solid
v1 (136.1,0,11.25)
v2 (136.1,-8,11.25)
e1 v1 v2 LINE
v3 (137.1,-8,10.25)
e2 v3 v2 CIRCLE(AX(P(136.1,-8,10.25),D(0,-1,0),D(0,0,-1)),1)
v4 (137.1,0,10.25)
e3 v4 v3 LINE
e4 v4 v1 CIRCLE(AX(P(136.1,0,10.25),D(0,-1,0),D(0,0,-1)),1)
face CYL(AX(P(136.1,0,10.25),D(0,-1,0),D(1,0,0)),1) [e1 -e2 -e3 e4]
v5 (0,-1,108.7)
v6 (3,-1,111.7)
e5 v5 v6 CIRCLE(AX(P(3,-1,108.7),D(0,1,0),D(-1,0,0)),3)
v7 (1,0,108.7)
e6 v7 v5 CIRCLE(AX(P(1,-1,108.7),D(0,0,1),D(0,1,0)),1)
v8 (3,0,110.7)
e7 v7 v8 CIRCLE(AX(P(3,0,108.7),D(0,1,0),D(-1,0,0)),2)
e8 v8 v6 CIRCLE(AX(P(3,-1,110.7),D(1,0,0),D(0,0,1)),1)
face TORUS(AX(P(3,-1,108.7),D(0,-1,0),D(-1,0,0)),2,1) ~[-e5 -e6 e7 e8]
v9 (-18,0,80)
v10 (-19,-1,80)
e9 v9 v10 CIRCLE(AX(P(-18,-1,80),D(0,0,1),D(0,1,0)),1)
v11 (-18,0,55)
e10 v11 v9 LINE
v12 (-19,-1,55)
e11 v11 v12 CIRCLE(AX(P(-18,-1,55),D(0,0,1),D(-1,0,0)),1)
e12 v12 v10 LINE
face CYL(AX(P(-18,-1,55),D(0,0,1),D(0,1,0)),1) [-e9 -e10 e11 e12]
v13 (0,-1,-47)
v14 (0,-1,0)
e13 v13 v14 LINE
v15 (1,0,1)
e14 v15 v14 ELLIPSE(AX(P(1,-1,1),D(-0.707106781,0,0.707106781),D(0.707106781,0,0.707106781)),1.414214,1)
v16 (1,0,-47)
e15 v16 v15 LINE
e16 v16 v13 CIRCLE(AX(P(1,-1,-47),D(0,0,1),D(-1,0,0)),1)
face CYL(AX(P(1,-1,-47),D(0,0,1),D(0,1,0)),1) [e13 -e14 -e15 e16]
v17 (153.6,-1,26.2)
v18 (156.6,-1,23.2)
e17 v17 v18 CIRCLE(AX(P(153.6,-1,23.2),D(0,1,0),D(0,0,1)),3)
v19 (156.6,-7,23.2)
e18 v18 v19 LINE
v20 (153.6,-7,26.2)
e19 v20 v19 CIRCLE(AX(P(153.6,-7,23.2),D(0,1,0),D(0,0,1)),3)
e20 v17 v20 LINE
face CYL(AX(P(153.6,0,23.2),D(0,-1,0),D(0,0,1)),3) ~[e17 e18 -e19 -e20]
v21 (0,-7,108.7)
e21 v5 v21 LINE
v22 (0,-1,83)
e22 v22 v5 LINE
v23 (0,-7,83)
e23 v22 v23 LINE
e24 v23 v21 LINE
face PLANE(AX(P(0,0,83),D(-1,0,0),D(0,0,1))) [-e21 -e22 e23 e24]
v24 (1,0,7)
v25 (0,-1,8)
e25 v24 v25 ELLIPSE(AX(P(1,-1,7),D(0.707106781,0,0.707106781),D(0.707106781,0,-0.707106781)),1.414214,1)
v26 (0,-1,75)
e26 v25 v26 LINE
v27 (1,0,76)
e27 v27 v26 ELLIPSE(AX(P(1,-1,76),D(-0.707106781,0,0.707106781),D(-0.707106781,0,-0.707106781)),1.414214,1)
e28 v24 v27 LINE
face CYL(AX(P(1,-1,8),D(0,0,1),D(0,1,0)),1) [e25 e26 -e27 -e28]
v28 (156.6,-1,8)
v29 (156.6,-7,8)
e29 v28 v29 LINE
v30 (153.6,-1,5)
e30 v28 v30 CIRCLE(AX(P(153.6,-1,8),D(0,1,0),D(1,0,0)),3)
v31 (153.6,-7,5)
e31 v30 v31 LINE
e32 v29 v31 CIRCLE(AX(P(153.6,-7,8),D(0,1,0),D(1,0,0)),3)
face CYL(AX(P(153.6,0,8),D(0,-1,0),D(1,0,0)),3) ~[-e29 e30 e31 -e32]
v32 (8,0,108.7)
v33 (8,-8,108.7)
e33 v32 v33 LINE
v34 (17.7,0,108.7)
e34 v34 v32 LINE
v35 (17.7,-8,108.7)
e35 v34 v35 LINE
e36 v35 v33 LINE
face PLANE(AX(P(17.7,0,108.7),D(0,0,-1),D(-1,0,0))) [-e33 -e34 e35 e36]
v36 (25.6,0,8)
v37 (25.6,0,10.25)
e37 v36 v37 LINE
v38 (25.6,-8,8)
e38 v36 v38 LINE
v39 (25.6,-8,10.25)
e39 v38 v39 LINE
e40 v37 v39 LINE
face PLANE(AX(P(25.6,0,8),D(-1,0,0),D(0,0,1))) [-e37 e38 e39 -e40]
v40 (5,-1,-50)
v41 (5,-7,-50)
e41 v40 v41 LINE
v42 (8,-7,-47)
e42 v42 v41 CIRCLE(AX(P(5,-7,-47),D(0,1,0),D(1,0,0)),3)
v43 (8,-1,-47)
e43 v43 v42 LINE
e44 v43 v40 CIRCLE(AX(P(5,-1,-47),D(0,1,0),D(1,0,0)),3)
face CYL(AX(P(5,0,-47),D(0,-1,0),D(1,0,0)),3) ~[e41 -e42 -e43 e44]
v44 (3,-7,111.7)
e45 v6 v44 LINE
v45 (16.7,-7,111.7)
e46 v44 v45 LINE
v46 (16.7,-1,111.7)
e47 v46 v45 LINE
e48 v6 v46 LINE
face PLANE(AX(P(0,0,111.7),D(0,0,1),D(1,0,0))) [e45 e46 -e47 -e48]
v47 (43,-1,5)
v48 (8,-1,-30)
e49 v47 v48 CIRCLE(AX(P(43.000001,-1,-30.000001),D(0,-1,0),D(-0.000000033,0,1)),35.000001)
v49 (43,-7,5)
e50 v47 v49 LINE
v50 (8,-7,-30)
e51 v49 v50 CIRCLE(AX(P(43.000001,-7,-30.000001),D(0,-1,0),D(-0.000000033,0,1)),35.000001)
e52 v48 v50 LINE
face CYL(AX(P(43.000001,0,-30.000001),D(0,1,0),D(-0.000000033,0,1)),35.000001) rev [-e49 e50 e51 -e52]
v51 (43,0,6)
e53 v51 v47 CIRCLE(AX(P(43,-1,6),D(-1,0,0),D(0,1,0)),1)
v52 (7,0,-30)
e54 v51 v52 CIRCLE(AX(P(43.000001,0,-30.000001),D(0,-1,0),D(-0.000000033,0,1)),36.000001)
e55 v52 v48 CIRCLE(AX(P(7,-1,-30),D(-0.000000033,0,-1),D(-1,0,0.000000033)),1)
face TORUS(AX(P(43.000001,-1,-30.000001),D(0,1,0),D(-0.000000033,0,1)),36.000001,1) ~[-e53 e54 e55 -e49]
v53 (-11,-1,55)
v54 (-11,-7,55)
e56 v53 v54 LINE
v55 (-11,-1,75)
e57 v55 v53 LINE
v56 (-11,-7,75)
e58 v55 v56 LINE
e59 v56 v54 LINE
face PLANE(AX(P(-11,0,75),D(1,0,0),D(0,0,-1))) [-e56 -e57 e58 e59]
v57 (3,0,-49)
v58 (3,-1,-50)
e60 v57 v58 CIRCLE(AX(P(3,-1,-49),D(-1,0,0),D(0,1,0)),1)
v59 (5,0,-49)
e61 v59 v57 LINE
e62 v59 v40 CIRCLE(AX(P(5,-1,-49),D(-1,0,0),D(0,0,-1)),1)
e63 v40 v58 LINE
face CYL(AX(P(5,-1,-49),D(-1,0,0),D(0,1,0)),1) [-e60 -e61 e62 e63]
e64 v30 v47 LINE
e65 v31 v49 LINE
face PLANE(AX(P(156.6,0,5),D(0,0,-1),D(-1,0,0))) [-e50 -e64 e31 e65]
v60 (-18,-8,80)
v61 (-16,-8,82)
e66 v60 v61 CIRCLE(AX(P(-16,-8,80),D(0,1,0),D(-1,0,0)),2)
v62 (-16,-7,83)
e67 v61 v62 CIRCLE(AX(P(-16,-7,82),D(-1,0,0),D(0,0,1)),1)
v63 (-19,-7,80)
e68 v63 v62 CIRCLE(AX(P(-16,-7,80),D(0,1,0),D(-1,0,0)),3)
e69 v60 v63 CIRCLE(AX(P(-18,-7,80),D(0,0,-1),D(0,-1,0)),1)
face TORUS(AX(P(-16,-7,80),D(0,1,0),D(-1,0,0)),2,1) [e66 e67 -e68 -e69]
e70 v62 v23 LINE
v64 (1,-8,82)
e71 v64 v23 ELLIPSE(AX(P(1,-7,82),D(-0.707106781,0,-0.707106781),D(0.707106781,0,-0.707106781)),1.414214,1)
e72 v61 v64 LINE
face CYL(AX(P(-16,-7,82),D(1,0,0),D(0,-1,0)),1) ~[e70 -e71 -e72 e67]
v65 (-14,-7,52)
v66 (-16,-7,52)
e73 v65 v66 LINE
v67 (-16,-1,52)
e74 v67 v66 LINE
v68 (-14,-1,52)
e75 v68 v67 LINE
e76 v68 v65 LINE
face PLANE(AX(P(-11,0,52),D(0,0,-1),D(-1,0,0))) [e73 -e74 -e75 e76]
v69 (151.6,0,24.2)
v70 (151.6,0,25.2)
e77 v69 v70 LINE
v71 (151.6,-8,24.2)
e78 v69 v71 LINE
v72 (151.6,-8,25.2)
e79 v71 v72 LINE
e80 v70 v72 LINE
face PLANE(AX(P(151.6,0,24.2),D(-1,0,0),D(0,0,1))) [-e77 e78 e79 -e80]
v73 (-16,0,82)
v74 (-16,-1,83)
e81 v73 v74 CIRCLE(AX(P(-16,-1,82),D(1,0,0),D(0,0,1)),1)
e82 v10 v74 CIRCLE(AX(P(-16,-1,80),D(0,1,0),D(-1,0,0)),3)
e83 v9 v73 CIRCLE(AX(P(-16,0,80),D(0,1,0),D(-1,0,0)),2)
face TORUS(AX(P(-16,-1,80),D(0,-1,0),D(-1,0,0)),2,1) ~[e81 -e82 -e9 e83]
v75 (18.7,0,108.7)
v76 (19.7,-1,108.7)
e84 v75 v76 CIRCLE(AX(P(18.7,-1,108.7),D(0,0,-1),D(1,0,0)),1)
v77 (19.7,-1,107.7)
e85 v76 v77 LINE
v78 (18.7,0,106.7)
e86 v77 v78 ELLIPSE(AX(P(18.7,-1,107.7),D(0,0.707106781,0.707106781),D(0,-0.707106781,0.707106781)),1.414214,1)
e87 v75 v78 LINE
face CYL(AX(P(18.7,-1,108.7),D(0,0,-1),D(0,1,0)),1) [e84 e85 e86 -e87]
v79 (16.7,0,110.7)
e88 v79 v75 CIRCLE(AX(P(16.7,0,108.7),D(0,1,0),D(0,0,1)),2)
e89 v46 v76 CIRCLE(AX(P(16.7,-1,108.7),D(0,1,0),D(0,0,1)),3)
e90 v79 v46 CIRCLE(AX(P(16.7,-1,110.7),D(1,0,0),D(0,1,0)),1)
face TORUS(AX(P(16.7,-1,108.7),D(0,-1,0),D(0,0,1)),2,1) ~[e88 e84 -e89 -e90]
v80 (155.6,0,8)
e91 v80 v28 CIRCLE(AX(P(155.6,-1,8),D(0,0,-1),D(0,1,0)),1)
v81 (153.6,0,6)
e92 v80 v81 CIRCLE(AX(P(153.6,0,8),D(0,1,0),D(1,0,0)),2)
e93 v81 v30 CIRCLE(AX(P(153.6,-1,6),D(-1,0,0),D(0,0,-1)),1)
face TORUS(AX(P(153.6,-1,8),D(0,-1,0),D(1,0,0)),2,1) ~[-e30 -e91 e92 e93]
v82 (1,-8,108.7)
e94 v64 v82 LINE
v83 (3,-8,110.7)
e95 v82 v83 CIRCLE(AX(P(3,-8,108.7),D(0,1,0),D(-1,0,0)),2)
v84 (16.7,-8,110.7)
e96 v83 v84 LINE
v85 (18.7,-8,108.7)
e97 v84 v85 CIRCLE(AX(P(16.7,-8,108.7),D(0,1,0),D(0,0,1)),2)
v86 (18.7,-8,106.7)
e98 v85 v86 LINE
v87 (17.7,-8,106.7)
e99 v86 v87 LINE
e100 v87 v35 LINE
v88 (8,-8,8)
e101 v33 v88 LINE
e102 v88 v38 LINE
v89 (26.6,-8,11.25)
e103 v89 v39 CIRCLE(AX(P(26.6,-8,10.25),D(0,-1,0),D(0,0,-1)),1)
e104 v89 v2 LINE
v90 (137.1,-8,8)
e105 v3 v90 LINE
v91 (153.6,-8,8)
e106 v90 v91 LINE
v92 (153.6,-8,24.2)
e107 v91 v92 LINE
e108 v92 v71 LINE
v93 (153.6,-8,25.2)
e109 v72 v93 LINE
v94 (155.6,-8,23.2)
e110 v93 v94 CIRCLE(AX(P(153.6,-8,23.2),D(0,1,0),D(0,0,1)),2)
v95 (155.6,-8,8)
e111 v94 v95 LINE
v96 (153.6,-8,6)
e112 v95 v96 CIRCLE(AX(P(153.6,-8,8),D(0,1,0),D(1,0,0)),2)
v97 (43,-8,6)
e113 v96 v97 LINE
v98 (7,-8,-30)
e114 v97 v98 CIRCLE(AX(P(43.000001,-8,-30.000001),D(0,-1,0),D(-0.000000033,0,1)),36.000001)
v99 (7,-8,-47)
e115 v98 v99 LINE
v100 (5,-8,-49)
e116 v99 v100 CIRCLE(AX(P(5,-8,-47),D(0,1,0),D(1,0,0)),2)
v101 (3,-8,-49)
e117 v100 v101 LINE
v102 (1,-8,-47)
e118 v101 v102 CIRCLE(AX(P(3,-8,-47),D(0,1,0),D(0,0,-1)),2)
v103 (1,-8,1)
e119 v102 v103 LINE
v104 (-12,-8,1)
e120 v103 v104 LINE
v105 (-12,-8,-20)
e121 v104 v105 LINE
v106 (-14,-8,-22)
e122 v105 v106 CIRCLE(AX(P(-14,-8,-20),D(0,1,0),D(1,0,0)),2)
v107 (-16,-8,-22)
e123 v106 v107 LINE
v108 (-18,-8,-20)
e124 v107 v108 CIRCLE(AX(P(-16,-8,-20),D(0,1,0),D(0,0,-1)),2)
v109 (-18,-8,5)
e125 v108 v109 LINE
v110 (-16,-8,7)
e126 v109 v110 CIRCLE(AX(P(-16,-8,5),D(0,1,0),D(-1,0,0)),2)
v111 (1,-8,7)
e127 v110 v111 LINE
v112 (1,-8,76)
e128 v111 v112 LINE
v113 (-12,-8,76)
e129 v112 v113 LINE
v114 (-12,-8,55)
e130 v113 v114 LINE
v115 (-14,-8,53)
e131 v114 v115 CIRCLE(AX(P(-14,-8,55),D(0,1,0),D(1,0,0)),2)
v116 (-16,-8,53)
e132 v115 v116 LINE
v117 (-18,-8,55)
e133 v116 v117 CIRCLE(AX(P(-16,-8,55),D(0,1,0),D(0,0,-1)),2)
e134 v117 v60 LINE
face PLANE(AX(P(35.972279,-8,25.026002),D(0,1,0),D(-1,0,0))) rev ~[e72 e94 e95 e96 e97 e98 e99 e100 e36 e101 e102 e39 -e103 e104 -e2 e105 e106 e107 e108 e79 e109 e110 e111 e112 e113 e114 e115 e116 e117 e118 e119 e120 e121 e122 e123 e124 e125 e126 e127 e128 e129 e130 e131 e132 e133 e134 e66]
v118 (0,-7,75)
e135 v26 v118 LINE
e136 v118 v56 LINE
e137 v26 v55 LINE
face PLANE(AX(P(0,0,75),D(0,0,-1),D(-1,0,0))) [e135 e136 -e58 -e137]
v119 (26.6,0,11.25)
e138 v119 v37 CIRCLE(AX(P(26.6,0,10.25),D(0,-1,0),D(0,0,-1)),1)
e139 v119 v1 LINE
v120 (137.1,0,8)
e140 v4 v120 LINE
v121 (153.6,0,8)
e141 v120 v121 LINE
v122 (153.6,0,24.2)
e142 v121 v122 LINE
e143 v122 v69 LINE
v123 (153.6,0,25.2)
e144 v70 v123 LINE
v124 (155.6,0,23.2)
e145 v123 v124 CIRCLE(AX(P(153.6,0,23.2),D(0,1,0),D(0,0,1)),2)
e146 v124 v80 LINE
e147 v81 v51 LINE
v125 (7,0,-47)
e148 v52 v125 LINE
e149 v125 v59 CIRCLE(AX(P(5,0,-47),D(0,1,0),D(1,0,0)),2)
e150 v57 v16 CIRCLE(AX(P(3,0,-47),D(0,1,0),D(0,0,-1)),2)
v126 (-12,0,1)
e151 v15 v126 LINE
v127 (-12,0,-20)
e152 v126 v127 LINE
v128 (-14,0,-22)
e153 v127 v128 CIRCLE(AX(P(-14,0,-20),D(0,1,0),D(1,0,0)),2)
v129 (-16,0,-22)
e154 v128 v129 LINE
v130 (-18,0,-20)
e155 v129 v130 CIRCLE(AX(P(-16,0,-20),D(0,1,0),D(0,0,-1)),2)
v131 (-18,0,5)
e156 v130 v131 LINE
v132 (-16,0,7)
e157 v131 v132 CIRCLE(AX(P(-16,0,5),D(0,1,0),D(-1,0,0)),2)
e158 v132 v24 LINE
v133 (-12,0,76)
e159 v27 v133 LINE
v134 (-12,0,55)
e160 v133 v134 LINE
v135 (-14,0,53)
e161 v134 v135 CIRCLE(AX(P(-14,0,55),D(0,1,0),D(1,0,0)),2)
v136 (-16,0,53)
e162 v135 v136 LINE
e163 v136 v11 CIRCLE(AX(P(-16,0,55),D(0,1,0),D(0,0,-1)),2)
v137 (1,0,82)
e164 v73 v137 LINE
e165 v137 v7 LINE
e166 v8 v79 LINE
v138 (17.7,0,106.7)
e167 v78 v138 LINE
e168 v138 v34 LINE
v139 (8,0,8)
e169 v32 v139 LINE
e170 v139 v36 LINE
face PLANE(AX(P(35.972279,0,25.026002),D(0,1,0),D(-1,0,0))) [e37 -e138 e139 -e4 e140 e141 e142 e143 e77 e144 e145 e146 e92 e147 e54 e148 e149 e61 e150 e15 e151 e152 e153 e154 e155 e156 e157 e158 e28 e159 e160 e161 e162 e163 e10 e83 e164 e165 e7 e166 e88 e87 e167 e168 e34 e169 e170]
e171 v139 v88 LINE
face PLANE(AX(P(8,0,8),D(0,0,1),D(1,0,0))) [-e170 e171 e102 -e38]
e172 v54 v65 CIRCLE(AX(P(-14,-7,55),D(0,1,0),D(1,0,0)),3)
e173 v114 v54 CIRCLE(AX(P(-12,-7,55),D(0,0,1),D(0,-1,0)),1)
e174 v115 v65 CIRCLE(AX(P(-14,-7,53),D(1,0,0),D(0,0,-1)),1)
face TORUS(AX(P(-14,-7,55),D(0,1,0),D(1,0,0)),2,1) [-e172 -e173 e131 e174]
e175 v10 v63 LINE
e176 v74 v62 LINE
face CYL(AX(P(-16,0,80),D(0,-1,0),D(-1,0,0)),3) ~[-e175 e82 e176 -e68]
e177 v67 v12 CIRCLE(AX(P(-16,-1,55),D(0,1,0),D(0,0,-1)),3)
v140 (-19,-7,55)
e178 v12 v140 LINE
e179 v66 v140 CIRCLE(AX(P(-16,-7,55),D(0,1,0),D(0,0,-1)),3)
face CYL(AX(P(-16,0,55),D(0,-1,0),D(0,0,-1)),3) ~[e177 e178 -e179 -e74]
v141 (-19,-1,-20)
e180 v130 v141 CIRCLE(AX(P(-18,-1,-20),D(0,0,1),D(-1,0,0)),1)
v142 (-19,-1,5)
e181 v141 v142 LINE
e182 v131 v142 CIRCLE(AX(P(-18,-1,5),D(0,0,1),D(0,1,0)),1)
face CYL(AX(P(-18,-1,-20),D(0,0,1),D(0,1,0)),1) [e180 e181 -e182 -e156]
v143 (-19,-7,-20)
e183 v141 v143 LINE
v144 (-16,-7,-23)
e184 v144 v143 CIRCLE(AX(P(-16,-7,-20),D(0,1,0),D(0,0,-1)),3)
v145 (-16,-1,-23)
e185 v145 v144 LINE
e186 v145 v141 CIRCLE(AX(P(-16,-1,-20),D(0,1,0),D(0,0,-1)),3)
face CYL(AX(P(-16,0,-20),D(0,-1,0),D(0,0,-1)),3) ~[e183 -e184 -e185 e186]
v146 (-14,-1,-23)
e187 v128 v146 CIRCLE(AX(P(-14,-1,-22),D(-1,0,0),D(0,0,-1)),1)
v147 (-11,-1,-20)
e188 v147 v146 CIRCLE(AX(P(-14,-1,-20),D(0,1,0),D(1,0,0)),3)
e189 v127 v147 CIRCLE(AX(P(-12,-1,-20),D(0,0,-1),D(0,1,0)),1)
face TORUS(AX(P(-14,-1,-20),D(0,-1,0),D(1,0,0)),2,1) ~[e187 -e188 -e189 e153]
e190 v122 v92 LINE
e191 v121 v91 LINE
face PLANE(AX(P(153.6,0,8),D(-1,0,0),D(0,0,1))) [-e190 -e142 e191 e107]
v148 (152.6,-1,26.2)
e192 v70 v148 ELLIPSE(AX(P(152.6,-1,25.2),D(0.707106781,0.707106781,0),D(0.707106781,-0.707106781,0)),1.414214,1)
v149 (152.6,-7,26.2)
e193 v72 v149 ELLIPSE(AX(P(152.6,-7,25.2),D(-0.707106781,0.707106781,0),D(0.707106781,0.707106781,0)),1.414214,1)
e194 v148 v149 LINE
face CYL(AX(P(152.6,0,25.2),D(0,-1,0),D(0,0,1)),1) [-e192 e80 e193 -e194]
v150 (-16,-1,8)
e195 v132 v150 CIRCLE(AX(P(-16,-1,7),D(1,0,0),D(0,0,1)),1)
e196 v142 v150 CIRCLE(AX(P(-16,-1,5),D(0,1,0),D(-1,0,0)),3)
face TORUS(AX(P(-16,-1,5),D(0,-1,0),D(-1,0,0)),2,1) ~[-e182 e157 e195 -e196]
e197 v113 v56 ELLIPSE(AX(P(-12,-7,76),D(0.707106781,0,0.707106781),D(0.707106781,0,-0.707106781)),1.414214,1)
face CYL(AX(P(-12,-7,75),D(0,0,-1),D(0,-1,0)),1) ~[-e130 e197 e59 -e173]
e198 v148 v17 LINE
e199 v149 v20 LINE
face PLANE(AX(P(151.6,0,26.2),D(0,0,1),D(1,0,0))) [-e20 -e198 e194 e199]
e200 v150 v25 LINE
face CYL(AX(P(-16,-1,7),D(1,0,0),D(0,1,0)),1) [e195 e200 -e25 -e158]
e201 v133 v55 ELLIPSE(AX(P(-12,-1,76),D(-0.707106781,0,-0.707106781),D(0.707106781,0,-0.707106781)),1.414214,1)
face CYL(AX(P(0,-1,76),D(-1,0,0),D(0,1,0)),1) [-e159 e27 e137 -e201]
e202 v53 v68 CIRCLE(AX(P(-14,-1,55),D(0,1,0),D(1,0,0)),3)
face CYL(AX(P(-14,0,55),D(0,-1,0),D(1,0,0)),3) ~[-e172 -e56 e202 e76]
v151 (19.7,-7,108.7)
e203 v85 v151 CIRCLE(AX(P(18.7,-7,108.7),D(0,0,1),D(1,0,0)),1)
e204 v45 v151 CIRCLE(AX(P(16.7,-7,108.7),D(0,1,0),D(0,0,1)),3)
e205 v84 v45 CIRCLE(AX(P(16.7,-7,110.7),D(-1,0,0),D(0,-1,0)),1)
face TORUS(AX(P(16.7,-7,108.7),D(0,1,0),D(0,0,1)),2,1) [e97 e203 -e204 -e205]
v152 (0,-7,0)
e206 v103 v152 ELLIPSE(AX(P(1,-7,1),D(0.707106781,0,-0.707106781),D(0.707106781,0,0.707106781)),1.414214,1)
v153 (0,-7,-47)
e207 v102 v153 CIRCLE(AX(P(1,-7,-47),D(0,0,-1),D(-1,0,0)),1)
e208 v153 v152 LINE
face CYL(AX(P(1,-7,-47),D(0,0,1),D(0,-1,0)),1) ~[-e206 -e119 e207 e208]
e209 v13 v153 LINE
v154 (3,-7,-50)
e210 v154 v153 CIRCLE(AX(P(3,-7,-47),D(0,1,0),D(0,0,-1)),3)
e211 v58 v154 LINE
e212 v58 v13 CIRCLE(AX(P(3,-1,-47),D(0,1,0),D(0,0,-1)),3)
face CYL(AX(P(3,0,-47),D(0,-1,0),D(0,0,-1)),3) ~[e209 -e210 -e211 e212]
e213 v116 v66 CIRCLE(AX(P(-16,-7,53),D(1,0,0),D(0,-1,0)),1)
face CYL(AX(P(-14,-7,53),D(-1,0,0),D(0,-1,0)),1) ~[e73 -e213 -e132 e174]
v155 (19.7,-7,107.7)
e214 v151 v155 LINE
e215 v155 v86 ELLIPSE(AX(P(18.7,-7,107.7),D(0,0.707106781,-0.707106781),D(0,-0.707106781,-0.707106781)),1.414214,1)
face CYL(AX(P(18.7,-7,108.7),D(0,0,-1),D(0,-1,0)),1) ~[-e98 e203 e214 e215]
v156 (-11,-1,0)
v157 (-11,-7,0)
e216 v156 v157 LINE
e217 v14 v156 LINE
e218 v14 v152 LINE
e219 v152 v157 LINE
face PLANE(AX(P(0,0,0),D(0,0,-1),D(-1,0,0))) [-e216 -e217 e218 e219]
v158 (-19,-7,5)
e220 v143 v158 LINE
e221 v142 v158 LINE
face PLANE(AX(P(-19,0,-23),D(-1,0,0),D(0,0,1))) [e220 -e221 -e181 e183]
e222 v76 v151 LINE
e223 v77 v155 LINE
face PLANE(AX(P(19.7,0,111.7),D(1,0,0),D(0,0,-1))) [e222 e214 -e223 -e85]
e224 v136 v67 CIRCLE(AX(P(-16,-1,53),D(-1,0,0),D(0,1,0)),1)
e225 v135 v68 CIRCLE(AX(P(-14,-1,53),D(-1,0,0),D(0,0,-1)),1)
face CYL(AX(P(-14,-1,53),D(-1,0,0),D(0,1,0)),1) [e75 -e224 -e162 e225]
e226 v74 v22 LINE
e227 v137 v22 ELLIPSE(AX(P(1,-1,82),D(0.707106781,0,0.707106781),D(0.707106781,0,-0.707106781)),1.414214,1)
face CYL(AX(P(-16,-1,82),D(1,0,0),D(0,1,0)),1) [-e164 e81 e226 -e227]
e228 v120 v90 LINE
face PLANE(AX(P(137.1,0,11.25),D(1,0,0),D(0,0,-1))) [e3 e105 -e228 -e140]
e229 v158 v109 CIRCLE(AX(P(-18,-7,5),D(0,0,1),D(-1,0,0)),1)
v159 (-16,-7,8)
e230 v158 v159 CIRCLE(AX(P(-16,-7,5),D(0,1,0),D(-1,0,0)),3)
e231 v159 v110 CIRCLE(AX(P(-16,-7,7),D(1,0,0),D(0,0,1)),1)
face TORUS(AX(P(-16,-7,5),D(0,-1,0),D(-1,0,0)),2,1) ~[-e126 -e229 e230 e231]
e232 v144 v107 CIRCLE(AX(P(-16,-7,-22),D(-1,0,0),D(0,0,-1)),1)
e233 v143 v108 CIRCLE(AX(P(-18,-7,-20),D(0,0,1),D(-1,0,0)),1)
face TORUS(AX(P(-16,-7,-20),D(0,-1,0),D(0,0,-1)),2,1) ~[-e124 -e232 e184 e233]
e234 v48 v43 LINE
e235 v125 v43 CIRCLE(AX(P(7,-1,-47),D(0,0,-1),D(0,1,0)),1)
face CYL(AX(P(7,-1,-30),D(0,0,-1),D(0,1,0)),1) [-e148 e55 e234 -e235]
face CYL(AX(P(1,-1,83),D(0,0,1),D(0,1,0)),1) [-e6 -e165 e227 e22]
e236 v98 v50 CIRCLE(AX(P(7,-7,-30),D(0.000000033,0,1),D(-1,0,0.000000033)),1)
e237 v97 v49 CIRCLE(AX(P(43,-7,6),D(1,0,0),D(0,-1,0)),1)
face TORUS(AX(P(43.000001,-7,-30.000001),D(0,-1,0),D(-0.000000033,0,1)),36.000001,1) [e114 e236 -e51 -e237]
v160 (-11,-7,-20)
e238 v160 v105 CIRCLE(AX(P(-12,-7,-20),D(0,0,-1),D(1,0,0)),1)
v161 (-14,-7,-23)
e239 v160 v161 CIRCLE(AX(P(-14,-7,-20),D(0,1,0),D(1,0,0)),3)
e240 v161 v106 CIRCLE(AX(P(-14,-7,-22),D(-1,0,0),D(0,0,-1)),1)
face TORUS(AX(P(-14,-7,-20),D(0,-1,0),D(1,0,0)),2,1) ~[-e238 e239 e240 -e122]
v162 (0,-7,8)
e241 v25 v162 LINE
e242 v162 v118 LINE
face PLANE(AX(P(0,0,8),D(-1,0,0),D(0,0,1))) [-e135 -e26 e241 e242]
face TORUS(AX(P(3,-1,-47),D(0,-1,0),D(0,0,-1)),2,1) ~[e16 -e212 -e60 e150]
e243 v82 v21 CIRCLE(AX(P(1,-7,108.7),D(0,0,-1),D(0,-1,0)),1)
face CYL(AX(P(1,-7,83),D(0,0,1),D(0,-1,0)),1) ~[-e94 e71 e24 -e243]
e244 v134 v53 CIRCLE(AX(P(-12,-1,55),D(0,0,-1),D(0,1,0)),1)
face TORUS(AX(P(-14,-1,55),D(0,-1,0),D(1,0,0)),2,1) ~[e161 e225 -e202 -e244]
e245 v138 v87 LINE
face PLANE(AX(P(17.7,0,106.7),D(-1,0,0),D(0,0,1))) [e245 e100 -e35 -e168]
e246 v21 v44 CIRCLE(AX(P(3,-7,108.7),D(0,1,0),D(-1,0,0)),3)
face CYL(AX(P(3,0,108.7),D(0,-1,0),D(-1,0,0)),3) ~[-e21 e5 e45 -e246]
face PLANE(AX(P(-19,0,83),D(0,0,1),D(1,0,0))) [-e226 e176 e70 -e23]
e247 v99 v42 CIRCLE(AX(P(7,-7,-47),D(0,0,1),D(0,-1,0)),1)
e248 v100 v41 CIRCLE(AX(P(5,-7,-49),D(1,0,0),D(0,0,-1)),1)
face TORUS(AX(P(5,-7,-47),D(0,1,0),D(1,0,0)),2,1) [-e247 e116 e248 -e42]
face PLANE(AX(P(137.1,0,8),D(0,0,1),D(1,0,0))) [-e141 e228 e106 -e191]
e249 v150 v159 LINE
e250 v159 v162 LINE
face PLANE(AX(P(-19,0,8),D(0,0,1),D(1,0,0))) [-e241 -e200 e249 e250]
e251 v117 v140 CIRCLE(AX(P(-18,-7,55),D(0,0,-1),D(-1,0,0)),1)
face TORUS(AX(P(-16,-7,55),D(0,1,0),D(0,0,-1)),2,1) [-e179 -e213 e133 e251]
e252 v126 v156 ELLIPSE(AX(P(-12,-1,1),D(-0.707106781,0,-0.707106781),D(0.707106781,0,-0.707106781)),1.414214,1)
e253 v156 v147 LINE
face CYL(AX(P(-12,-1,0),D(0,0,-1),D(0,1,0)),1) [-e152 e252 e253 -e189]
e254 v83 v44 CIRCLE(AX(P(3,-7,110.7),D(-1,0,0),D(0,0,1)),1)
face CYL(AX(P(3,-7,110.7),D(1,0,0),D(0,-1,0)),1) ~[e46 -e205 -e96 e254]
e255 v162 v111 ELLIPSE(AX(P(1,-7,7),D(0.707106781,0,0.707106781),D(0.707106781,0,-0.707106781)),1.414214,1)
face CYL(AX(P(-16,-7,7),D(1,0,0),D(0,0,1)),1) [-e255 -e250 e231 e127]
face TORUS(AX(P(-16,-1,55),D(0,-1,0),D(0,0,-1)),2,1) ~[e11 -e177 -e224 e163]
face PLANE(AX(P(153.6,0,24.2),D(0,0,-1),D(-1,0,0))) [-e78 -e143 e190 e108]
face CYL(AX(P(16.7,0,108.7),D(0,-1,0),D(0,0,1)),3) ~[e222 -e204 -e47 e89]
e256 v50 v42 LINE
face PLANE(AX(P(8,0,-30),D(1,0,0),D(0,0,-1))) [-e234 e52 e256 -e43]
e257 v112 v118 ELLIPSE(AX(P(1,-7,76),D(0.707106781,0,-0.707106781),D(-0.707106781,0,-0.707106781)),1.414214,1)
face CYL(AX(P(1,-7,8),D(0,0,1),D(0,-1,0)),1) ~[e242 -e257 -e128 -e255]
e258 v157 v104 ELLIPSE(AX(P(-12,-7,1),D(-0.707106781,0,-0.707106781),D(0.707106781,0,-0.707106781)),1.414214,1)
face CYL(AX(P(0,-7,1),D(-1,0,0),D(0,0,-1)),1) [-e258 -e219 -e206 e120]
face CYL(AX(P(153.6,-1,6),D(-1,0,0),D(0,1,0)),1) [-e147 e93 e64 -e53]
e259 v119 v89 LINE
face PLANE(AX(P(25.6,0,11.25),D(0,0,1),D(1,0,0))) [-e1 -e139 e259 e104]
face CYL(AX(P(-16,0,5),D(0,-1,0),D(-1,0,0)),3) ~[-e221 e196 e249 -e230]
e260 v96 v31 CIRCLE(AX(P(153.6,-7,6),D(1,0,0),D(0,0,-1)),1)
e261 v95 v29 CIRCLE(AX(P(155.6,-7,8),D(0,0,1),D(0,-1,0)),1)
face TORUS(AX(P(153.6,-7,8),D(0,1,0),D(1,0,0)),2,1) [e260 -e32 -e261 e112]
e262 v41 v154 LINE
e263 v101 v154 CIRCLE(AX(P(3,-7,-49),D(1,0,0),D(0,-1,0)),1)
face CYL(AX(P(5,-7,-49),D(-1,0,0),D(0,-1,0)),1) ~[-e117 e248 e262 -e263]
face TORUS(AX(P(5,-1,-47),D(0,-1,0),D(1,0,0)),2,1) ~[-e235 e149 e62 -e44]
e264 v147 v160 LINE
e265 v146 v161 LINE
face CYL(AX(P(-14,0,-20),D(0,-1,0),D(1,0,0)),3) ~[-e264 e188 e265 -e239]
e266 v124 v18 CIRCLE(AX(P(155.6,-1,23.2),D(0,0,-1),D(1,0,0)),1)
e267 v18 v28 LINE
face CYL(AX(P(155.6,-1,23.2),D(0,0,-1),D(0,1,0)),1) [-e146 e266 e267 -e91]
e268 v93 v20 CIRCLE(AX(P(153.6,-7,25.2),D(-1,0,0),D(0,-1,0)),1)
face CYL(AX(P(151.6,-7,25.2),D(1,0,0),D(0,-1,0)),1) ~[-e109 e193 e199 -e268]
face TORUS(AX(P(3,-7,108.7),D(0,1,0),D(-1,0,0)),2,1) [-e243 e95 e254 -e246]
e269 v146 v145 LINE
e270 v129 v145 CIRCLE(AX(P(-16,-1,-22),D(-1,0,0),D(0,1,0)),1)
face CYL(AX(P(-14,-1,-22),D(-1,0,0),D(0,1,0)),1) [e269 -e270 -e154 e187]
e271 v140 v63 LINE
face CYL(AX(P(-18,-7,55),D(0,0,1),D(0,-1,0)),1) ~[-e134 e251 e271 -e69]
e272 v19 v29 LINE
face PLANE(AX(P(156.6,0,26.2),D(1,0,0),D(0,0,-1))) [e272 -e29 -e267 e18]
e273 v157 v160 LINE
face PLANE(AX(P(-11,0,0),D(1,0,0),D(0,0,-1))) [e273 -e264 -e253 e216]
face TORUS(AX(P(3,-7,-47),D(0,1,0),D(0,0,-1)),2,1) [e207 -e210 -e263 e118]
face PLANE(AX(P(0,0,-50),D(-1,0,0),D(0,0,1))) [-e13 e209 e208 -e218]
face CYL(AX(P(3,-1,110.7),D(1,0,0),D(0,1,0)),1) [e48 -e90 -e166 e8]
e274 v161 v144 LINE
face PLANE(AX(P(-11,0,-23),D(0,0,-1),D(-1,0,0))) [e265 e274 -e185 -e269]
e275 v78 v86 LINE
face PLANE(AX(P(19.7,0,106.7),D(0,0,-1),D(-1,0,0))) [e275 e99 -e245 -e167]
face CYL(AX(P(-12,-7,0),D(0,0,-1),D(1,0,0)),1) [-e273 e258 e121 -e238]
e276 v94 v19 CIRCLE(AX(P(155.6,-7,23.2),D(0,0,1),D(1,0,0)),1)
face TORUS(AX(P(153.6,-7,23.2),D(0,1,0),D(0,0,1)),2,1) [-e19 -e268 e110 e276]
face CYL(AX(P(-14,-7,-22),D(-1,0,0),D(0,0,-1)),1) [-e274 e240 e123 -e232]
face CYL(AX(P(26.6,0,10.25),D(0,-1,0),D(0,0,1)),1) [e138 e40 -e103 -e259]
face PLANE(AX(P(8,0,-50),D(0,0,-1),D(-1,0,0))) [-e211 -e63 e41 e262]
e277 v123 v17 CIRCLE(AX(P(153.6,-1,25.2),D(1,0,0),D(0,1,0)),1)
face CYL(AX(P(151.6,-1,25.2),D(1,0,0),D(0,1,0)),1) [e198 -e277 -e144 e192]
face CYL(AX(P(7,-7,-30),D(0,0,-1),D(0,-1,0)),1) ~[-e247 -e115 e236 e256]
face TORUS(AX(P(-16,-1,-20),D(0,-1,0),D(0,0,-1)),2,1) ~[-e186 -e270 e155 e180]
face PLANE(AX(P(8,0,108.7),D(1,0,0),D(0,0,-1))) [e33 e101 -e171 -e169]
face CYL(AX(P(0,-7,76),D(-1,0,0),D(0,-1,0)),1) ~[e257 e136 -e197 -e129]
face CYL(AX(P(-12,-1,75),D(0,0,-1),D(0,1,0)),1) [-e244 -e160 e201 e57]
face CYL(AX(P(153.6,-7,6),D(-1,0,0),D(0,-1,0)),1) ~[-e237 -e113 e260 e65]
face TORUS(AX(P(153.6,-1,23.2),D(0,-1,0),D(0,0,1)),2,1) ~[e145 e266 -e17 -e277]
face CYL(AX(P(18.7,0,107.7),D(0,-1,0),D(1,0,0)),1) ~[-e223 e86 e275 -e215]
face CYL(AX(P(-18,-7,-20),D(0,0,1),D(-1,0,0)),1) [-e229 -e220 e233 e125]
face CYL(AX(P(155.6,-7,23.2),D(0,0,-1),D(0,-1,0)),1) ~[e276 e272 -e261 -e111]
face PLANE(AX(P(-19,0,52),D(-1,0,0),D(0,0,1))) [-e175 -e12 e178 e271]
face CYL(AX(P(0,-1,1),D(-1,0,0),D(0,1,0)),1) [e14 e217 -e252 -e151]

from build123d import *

# Parameters (mm, degrees)
PAD_DEPTH   = 8
FILLET_R    = 3
FILLET001_R = 1


with BuildPart() as part:
    # Sketch → Pad (new body)
    with BuildSketch(Plane.XZ):
        with BuildLine():
            Line((-11, 0), (-11, -23))
            Line((-11, -23), (-19, -23))
            Line((-19, -23), (-19, 8))
            Line((-19, 8), (0, 8))
            Line((0, 8), (0, 75))
            Line((0, 75), (-11, 75))
            Line((-11, 75), (-11, 52))
            Line((-11, 52), (-19, 52))
            Line((-19, 52), (-19, 83))
            Line((-19, 83), (0, 83))
            Line((0, 83), (0, 111.7))
            Line((0, 111.7), (19.7, 111.7))
            Line((19.7, 111.7), (19.7, 106.7))
            Line((19.7, 106.7), (17.7, 106.7))
            Line((17.7, 106.7), (17.7, 108.7))
            Line((17.7, 108.7), (8, 108.7))
            Line((8, 108.7), (8, 8))
            Line((8, 8), (25.6, 8))
            Line((25.6, 8), (25.6, 11.25))
            Line((25.6, 11.25), (137.1, 11.25))
            Line((137.1, 11.25), (137.1, 8))
            Line((137.1, 8), (153.6, 8))
            Line((153.6, 8), (153.6, 24.2))
            Line((153.6, 24.2), (151.6, 24.2))
            Line((151.6, 24.2), (151.6, 26.2))
            Line((151.6, 26.2), (156.6, 26.2))
            Line((156.6, 26.2), (156.6, 5))
            Line((156.6, 5), (43, 5))
            ThreePointArc((43, 5), (18.251263, -5.251263), (8, -30))
            Line((8, -30), (8, -50))
            Line((8, -50), (0, -50))
            Line((0, -50), (0, 0))
            Line((0, 0), (-11, 0))
        make_face()
    extrude(amount=PAD_DEPTH)

    # Fillet
    fillet_edges = [part.edges().sort_by_distance(p)[0] for p in [
        (-19, -4, 52),
        (-19, -4, 83),
        (0, -4, 111.7),
        (19.7, -4, 111.7),
        (156.6, -4, 26.2),
        (0, -4, -50),
        (-19, -4, -23),
        (-19, -4, 8),
        (8, -4, -50),
        (-11, -4, -23),
        (-11, -4, 52),
        (156.6, -4, 5),
    ]]
    fillet(fillet_edges, radius=FILLET_R)

    # Fillet001
    fillet001_edges = [part.edges().sort_by_distance(p)[0] for p in [
        (18.251263, -8, -5.251263),
        (18.251263, 0, -5.251263),
        (137.1, -4, 11.25),
        (25.6, -4, 11.25),
        (151.6, -4, 26.2),
        (19.7, -4, 106.7),
        (-11.87868, 0, -22.12132),
        (-11.87868, -8, -22.12132),
        (-11.87868, 0, 52.87868),
        (-11.87868, -8, 52.87868),
        (-5.5, 0, 0),
        (-5.5, -8, 0),
        (-5.5, 0, 75),
        (-5.5, -8, 75),
        (0.87868, 0, 110.82132),
        (0, 0, 41.5),
        (0.87868, -8, 110.82132),
        (0, -8, 41.5),
    ]]
    fillet(fillet001_edges, radius=FILLET001_R)


solid = part.part
